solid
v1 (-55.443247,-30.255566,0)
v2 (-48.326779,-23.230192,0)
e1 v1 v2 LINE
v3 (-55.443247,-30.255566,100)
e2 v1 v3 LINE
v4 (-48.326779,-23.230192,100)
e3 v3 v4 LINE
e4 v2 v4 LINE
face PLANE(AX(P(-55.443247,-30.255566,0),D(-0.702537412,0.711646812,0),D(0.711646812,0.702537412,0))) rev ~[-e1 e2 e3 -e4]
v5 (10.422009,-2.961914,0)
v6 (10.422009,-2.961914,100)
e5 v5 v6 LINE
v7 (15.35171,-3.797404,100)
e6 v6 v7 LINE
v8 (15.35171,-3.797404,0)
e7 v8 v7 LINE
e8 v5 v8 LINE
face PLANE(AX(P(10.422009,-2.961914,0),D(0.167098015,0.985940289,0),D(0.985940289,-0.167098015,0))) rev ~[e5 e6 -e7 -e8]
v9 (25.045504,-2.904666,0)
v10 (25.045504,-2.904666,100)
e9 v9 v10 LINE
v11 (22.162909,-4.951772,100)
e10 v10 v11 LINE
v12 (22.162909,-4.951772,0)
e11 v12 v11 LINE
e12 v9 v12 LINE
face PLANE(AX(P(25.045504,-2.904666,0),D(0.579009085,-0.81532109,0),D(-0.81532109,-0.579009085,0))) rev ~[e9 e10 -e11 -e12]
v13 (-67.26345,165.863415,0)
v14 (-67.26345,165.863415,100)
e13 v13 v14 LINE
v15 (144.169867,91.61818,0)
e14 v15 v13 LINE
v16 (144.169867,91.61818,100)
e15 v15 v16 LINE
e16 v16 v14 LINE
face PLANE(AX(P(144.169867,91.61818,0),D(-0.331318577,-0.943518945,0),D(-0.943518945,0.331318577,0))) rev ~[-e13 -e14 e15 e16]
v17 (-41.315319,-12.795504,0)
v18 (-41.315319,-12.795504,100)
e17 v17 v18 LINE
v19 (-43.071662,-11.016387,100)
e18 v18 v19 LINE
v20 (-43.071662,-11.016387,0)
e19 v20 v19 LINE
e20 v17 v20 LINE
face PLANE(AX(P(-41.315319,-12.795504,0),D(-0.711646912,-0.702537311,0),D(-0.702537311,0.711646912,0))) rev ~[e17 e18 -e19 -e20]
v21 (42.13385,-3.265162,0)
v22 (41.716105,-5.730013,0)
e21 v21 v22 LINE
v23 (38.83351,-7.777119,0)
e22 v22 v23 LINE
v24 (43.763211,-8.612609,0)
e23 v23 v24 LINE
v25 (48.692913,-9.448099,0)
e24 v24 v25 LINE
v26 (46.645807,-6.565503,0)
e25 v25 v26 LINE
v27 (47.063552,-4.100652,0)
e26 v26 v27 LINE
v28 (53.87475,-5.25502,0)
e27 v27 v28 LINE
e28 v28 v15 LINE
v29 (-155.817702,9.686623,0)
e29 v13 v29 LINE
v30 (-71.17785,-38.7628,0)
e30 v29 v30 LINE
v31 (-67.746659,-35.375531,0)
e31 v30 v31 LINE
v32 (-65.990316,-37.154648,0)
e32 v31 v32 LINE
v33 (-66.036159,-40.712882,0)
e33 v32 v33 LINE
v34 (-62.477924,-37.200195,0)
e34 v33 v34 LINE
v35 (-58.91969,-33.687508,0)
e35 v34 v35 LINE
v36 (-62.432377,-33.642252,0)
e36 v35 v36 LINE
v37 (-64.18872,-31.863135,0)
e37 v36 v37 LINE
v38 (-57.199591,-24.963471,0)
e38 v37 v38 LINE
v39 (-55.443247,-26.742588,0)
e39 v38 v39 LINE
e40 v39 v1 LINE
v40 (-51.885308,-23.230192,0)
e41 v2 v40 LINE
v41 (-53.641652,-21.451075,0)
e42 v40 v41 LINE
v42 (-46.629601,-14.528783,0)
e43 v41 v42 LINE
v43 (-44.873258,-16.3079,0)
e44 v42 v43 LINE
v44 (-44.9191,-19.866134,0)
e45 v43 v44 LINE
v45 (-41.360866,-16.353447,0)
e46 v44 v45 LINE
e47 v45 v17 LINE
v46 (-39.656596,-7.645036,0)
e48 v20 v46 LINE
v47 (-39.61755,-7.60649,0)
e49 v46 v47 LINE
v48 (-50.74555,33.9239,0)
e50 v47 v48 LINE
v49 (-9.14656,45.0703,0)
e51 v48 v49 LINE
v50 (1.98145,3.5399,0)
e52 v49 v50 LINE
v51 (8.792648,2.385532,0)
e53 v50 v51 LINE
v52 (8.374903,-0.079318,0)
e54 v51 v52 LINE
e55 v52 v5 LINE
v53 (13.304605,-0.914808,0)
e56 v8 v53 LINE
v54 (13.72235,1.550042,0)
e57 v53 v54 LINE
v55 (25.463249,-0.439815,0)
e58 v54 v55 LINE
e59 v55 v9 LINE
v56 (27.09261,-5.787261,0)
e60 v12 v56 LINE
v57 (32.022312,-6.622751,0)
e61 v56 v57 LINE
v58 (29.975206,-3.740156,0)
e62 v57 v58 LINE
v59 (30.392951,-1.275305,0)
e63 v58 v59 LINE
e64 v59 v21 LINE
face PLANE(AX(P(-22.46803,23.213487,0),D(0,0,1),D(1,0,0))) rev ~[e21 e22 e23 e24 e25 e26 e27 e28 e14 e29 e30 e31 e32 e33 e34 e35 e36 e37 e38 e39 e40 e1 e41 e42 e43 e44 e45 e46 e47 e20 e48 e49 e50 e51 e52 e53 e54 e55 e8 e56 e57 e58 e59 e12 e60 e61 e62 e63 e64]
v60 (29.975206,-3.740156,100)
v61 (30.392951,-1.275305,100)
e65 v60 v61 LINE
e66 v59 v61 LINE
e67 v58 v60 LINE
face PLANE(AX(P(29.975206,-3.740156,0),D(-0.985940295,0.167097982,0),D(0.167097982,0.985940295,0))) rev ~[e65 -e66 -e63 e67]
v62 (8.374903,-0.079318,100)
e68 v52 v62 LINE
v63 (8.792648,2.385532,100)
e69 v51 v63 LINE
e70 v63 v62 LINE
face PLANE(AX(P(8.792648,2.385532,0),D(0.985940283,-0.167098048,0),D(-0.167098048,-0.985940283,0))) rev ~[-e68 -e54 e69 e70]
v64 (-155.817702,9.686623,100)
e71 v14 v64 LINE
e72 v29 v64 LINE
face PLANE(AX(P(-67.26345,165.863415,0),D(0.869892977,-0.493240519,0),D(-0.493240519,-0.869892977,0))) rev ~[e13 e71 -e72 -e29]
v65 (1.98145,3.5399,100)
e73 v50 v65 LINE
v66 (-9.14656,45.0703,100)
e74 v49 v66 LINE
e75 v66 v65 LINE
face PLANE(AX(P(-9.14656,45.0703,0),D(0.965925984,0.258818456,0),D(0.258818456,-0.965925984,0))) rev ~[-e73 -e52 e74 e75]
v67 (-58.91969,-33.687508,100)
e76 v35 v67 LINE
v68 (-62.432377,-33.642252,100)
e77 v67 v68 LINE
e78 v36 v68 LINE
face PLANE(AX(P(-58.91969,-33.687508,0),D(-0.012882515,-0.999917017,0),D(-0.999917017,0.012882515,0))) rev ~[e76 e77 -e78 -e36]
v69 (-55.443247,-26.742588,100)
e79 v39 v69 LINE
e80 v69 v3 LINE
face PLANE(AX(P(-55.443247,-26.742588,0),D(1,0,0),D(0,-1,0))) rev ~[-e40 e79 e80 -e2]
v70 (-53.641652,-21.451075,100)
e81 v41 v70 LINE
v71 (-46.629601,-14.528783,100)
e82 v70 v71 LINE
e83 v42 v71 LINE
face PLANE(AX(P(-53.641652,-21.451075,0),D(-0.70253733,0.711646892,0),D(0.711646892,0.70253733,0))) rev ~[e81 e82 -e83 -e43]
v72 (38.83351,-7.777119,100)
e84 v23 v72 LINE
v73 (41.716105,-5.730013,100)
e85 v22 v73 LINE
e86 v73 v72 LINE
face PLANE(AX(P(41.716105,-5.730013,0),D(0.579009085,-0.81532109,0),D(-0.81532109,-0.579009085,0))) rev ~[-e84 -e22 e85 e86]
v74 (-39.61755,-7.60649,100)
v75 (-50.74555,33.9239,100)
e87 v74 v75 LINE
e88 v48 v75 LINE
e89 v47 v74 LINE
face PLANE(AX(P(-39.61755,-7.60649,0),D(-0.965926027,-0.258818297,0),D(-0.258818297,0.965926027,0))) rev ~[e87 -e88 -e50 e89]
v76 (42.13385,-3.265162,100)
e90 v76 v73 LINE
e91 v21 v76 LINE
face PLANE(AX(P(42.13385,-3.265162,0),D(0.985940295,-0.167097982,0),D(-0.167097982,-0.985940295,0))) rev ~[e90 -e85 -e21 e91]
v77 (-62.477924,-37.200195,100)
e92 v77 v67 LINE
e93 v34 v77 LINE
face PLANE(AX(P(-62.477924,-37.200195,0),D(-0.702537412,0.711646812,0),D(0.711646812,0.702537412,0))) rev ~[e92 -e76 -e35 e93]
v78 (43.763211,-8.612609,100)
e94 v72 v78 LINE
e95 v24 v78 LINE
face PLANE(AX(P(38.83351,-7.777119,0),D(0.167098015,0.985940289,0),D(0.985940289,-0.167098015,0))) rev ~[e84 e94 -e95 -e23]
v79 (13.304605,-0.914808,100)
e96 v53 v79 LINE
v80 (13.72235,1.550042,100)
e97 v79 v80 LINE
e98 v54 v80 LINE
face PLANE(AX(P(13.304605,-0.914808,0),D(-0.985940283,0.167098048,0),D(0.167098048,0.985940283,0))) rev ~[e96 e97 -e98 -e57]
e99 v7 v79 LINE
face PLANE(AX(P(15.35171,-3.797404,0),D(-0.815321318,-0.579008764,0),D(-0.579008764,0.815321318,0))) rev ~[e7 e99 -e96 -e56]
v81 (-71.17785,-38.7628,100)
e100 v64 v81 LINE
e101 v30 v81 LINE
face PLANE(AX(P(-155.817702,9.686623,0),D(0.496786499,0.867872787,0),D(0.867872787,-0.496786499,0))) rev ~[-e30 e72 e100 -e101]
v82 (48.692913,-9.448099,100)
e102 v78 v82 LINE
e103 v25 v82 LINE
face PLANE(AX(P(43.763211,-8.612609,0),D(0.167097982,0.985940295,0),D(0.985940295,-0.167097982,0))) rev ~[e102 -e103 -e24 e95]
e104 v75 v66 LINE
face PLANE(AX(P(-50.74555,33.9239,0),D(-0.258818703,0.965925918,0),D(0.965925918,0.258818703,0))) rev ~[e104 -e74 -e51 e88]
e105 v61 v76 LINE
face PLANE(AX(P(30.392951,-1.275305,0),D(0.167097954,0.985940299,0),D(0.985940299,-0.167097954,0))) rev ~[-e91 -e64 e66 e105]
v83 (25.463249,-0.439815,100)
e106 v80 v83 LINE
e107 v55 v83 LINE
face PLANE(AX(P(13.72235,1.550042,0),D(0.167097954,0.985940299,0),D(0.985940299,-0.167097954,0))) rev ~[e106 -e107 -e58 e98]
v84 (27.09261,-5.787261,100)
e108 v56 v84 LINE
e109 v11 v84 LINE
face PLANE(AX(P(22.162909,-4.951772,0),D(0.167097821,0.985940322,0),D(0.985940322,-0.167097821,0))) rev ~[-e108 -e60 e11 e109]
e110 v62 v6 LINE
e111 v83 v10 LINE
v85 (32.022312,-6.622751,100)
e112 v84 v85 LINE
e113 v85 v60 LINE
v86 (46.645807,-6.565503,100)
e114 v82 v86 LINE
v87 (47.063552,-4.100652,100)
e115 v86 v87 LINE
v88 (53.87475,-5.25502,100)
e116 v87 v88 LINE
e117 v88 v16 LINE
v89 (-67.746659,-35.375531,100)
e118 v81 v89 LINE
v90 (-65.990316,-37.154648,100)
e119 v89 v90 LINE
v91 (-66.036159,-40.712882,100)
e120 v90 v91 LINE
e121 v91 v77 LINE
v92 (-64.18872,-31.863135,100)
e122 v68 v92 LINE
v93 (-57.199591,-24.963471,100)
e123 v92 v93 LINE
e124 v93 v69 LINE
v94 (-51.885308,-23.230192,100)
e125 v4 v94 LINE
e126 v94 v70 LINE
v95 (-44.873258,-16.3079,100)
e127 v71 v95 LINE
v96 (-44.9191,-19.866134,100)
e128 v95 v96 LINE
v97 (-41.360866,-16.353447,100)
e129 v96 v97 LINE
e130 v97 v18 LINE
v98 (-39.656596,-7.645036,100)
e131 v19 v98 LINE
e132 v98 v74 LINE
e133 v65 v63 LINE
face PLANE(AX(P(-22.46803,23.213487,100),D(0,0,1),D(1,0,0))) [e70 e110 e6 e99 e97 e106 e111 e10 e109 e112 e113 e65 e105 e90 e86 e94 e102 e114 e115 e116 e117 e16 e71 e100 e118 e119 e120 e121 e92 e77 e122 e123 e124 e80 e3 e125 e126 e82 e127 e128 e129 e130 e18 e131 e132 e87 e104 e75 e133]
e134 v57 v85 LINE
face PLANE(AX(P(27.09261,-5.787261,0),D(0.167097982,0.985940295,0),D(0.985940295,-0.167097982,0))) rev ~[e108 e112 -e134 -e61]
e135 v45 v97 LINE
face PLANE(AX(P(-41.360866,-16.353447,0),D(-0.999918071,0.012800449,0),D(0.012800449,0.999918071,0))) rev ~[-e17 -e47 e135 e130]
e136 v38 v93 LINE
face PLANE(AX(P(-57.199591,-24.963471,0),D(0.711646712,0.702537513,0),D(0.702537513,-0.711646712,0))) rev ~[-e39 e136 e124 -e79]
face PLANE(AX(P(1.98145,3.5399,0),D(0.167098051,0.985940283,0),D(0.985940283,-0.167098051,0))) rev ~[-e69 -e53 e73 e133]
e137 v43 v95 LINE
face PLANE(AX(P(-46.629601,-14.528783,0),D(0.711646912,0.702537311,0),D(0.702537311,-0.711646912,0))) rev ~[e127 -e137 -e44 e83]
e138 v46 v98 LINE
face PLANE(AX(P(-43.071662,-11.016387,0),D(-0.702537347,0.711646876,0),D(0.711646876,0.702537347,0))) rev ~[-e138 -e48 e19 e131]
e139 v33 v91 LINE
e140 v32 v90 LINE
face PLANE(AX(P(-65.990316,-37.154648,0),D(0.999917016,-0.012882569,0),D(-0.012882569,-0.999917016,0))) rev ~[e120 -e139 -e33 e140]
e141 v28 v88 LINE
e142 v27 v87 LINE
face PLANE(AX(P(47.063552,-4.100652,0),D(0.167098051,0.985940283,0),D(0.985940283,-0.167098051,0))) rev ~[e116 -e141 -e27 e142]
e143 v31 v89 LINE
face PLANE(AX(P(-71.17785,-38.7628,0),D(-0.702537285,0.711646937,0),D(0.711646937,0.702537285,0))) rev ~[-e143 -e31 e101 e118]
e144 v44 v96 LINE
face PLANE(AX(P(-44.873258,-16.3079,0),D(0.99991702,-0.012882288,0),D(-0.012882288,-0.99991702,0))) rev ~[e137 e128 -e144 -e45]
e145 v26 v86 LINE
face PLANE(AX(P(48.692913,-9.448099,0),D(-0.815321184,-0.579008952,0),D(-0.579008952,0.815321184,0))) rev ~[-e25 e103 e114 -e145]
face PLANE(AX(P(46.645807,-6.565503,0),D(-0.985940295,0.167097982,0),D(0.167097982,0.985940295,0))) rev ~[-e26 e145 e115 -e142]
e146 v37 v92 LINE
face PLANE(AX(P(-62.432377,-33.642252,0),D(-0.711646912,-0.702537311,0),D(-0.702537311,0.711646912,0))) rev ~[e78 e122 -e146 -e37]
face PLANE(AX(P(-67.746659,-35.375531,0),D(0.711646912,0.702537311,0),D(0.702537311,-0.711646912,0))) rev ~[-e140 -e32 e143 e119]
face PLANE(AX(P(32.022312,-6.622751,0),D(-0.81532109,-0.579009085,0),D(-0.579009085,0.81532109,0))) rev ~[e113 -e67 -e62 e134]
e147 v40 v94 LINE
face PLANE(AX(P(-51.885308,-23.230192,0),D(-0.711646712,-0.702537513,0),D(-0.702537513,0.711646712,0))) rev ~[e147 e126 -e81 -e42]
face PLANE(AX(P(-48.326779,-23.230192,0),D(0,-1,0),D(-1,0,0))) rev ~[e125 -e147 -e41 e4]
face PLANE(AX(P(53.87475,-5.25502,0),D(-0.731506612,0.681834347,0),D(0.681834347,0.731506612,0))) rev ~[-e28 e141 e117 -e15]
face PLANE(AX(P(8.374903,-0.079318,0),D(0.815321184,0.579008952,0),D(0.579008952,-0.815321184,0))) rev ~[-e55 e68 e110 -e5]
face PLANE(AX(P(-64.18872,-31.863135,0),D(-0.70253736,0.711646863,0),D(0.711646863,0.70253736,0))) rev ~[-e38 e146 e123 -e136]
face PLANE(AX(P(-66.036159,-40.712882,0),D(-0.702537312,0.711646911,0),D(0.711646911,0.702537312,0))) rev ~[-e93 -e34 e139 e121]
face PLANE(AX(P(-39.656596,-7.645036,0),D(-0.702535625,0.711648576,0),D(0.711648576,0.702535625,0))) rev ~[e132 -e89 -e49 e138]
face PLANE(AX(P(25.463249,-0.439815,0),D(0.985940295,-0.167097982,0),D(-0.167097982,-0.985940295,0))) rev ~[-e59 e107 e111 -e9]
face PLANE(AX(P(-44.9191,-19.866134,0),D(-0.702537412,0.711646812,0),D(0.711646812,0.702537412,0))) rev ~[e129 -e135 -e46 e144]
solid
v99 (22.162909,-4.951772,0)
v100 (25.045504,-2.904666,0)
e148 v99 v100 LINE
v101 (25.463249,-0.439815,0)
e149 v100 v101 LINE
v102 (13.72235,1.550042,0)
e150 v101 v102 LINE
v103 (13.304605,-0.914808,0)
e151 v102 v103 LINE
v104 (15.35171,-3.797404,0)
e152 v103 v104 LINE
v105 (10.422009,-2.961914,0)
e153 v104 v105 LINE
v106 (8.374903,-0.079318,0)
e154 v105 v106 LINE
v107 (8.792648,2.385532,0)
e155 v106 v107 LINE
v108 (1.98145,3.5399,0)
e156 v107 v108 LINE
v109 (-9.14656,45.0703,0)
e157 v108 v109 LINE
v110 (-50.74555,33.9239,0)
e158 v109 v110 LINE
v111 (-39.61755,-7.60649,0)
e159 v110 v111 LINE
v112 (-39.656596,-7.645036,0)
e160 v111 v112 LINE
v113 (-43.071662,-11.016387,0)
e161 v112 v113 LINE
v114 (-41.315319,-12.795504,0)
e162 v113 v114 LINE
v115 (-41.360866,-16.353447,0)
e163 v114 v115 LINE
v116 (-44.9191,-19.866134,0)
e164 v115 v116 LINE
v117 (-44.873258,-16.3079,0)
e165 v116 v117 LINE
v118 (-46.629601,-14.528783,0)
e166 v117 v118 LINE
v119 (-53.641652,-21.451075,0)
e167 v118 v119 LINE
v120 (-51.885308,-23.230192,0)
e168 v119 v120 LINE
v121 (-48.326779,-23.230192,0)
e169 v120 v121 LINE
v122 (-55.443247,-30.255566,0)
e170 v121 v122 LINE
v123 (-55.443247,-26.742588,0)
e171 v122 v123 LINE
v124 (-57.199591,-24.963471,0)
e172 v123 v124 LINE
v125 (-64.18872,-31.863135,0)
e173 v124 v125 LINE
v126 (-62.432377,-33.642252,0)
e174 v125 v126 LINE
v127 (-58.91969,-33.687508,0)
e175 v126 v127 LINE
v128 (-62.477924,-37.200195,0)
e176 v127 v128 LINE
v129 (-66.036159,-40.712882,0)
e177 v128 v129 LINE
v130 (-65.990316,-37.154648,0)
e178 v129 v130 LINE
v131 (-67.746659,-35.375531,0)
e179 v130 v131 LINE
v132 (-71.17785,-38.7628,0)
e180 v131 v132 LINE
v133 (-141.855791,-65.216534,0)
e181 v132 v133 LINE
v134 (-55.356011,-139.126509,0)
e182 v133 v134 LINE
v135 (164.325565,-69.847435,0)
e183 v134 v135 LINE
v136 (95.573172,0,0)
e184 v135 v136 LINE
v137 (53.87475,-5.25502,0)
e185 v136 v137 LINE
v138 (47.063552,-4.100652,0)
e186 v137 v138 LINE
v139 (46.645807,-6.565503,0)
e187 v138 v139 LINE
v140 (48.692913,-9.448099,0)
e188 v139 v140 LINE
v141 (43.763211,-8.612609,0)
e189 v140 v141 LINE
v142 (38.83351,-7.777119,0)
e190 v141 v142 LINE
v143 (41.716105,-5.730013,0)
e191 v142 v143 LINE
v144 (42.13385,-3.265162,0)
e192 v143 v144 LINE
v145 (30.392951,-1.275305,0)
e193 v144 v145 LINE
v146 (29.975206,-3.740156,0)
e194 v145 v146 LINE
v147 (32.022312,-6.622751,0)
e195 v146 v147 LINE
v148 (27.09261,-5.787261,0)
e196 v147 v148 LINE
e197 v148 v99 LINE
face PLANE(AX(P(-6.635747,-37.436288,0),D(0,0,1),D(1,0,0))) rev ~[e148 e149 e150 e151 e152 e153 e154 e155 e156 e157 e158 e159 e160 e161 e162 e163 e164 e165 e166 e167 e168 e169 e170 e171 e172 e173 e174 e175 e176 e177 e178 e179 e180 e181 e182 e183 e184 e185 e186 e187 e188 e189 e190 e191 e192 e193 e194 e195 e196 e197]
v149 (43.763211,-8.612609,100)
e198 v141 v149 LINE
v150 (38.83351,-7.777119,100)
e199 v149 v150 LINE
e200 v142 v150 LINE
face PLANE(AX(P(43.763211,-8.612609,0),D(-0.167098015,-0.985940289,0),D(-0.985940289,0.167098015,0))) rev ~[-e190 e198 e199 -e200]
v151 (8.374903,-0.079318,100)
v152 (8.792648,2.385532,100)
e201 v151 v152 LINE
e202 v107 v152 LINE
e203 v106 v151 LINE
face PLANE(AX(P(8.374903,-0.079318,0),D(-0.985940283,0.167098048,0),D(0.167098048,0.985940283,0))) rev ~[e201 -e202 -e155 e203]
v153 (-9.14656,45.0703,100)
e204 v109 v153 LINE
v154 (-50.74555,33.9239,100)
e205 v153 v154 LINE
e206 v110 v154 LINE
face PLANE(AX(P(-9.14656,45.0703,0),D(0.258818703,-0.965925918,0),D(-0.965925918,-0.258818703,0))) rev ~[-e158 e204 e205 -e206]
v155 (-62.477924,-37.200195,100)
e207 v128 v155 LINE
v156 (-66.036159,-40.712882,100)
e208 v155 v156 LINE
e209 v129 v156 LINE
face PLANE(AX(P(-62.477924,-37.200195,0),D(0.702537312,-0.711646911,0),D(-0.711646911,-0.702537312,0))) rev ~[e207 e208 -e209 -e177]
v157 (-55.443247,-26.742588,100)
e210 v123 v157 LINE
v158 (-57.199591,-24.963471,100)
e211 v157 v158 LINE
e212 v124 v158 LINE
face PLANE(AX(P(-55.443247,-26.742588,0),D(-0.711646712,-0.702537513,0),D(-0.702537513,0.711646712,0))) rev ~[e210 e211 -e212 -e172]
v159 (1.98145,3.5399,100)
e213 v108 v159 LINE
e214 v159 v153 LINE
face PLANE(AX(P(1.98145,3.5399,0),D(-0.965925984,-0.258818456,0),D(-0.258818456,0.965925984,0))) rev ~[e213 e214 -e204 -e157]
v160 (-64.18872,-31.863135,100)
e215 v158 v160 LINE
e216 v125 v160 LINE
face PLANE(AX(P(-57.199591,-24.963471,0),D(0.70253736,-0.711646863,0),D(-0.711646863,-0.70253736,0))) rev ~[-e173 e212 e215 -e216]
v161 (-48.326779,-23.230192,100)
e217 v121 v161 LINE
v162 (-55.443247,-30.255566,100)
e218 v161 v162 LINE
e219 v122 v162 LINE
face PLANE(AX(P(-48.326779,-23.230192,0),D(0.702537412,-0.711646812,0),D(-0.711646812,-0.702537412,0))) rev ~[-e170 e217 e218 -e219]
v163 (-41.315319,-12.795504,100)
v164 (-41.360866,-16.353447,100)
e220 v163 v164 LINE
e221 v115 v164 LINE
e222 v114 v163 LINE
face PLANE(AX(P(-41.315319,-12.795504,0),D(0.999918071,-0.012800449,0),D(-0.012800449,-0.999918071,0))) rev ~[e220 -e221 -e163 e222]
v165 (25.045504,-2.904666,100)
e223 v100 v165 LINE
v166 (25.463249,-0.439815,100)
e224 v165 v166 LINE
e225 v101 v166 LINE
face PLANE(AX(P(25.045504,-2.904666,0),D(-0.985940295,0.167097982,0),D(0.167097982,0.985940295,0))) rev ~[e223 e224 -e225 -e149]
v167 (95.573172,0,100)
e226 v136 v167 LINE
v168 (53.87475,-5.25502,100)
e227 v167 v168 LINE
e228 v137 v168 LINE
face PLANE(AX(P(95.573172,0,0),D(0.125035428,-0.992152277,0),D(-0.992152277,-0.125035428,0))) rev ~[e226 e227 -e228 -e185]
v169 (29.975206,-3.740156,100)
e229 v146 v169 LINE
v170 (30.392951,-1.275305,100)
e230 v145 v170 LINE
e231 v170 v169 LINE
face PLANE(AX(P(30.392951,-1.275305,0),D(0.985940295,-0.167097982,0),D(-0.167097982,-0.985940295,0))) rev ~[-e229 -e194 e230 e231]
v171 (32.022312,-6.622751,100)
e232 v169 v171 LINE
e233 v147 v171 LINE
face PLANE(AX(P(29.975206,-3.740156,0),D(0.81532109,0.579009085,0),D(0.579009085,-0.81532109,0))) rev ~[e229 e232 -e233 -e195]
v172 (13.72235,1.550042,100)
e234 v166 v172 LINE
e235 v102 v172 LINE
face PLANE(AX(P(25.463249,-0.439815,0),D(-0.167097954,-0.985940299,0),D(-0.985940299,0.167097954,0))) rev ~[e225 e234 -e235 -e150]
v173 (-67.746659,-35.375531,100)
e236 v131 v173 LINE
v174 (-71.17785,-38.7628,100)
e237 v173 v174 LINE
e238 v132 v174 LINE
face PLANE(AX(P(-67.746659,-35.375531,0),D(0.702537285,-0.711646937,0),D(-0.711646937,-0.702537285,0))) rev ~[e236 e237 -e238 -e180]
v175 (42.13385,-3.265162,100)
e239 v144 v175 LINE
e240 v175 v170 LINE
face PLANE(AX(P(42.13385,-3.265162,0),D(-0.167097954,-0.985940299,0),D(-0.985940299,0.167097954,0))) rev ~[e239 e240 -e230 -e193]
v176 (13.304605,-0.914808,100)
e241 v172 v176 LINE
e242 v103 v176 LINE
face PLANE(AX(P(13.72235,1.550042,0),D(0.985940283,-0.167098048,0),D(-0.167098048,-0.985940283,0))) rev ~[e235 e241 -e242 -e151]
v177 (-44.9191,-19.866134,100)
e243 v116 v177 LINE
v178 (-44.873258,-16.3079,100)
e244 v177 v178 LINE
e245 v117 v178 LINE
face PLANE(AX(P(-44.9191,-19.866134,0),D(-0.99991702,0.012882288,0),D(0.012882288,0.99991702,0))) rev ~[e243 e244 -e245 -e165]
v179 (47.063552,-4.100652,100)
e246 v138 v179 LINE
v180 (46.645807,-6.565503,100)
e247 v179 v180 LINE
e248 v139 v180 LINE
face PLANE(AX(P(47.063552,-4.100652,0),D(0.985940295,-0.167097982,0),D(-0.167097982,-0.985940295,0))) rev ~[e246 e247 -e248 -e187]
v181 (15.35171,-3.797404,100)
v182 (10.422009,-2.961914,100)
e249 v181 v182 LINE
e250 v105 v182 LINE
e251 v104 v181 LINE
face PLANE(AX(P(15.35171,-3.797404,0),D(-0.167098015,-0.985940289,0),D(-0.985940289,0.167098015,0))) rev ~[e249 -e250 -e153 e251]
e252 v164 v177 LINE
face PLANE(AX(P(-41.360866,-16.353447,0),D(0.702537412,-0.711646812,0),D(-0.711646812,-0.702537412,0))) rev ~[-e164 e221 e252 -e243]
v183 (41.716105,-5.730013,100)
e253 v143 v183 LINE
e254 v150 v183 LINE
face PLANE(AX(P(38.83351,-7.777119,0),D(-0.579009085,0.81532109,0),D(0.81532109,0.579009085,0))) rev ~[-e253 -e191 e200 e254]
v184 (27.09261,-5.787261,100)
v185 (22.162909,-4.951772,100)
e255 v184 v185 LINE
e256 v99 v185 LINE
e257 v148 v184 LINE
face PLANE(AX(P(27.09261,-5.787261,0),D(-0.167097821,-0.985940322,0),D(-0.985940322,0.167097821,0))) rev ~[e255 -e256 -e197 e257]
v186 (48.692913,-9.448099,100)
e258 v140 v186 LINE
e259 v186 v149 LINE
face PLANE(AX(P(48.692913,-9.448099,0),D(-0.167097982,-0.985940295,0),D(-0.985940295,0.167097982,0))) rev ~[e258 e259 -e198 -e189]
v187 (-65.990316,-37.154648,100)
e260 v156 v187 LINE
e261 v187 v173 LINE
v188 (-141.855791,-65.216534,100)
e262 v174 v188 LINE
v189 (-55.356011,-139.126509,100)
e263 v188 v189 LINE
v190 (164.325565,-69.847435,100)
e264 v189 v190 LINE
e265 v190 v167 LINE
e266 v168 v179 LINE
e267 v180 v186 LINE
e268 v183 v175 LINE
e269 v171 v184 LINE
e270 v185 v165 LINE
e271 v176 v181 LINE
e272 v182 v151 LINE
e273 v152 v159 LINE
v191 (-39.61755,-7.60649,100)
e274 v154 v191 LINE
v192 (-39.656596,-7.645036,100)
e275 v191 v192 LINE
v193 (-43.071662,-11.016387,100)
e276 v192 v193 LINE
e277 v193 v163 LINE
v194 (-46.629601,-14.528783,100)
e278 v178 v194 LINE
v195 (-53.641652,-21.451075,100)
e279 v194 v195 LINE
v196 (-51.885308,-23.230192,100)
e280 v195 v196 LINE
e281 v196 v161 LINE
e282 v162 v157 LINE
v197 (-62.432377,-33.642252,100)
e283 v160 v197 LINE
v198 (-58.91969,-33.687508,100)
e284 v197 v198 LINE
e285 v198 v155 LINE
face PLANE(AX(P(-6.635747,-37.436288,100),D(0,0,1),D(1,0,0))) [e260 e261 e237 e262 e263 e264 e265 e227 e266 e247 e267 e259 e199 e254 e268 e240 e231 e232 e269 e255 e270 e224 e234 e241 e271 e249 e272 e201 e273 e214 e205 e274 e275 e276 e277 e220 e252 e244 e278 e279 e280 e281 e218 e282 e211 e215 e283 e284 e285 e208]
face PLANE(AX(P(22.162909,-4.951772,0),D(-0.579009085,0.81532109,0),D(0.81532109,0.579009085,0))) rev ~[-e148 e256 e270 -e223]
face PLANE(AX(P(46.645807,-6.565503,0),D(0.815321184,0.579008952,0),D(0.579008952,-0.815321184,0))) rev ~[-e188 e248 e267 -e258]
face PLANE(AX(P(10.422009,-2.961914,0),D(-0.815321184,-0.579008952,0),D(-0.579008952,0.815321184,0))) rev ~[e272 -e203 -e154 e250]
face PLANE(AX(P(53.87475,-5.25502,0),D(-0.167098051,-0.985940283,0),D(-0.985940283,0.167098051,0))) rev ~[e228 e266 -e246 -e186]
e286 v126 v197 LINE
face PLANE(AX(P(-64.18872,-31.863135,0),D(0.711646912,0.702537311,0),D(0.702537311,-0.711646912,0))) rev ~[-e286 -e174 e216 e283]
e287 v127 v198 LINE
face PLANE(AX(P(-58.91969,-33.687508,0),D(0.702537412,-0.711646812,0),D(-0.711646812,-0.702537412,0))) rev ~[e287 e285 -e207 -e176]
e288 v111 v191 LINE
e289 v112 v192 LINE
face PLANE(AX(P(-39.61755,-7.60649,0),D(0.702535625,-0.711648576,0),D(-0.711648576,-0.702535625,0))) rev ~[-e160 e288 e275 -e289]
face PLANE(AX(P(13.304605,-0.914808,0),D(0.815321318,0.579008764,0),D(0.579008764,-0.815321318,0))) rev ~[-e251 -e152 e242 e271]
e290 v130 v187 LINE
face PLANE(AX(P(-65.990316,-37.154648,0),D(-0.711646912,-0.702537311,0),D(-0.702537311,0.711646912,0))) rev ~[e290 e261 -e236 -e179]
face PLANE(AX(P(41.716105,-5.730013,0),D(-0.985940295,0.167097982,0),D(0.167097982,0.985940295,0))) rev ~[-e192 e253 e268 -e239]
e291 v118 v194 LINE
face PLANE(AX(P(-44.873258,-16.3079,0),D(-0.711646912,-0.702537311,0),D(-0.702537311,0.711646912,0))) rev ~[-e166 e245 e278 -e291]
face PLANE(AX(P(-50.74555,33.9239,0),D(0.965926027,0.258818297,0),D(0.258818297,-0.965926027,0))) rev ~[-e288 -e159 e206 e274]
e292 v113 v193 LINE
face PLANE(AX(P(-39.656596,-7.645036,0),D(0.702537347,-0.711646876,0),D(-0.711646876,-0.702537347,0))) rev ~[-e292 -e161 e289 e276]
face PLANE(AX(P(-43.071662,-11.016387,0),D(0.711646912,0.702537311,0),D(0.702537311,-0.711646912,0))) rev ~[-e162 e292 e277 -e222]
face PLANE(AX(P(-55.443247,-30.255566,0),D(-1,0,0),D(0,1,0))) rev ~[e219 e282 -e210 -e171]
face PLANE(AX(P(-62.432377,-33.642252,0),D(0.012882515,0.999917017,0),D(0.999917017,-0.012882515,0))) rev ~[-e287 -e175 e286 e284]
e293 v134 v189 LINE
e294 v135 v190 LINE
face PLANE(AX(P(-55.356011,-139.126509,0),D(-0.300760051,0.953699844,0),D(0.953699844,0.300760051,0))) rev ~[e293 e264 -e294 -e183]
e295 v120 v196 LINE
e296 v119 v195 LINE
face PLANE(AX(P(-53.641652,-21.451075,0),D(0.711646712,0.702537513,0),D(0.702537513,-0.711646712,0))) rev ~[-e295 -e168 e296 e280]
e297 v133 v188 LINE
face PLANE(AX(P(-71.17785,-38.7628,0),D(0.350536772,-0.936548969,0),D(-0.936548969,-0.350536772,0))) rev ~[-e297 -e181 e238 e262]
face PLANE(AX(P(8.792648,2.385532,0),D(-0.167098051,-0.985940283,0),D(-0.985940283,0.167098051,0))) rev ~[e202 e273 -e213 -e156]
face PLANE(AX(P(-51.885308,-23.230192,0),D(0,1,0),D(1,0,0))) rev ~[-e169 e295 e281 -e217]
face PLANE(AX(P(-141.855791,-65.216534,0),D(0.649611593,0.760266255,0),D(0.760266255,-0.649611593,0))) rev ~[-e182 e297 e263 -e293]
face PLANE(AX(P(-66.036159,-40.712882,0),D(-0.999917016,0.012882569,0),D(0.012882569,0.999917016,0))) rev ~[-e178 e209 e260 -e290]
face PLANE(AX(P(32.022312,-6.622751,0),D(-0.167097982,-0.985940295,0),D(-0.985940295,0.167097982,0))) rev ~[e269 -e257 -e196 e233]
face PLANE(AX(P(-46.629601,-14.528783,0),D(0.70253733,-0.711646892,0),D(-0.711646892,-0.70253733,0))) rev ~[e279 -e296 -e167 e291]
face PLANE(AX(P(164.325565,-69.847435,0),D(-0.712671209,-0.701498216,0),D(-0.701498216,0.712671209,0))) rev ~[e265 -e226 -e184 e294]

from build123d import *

# Parameters (mm, degrees)
F1_DEPTH = 100
F2_DEPTH = 100


with BuildPart() as f1:
    # F0 (on Top) → F1 (new body)
    with BuildSketch(Plane.XY):
        Polygon((47.063552, -4.100652), (53.87475, -5.25502), (54.52035, -3.4165), (55.49985, -0.94579), (57.70885, 4.3215), (58.83355, 7.1273), (59.89635, 10.0413), (60.84015, 13.0489), (61.60975, 16.1281), (62.15425, 19.2503), (62.42905, 22.3813), (62.39715, 25.483), (62.03065, 28.5147), (61.64635, 30.0767), (56.95075, 31.9738), (54.45145, 32.505), (54.47725, 32.6261), (53.28815, 33.6967), (53.62085, 35.2618), (55.14255, 35.7562), (55.32655, 35.5905), (57.88995, 35.0457), (60.28315, 34.0787), (60.23445, 34.2037), (58.80165, 36.7834), (57.02775, 39.1417), (54.93675, 41.2523), (52.56115, 43.0965), (49.94065, 44.6643), (47.12005, 45.9551), (44.14795, 46.9776), (41.07425, 47.75), (37.94825, 48.2994), (34.81675, 48.6605), (31.72235, 48.8748), (28.70165, 48.9886), (22.99125, 49.1129), (20.33575, 49.2231), (17.82175, 49.4276), (15.44465, 49.7675), (13.19215, 50.2766), (11.04515, 50.9802), (8.97875, 51.894), (6.96425, 53.0228), (4.97025, 54.3608), (2.96505, 55.8911), (0.91795, 57.5861), (-3.4089, 61.3147), (-5.72986, 63.2514), (-8.17284, 65.1627), (-10.74162, 66.9897), (-13.40326, 68.655), (-16.20161, 75.2043), (-14.03963, 79.8407), (-19.57281, 82.4209), (-20.20982, 83.7705), (-24.42685, 91.3774), (-29.06795, 98.0634), (-31.05355, 100.1334), (-37.50015, 98.4054), (-37.48715, 98.3574), (-43.86225, 96.6494), (-43.87525, 96.6974), (-50.32175, 94.9704), (-51.00685, 92.1854), (-51.68285, 84.0741), (-51.53145, 75.3779), (-51.40835, 73.8905), (-54.91005, 68.8895), (-50.40475, 65.7348), (-48.90245, 67.8802), (-42.34855, 43.4208), (-51.04195, 41.0914), (-53.64105, 50.7915), (-53.81195, 50.3678), (-54.85355, 47.5301), (-56.73645, 42.1377), (-57.66175, 39.6462), (-58.63325, 37.3183), (-59.69105, 35.1626), (-60.87125, 33.1777), (-62.20395, 31.3532), (-63.71145, 29.6703), (-65.40765, 28.1032), (-67.29635, 26.6203), (-69.37125, 25.1861), (-71.61595, 23.763), (-76.49915, 20.8001), (-79.05825, 19.1913), (-81.63085, 17.4585), (-84.16225, 15.58), (-86.59475, 13.5412), (-88.87045, 11.3354), (-90.93315, 8.9639), (-92.73045, 6.4358), (-94.21595, 3.7677), (-94.82315, 2.2781), (-92.13945, -2.01668), (-90.42975, -3.9155), (-90.52175, -3.99832), (-90.18905, -5.56336), (-91.37805, -6.63397), (-92.89975, -6.13954), (-92.95125, -5.89739), (-94.70485, -3.94984), (-96.07265, -1.7609), (-96.10675, -1.89056), (-96.46385, -4.81984), (-96.41485, -7.7704), (-95.96375, -10.70692), (-95.12595, -13.59526), (-93.92745, -16.40399), (-92.40425, -19.10613), (-90.60075, -21.6803), (-88.56805, -24.1119), (-86.36195, -26.3938), (-84.04085, -28.5265), (-81.66345, -30.5187), (-79.28645, -32.3863), (-74.73975, -35.8434), (-72.65615, -37.4933), (-71.17785, -38.7628), (-67.746659, -35.375531), (-65.990316, -37.154648), (-66.036159, -40.712882), (-62.477924, -37.200195), (-58.91969, -33.687508), (-62.432377, -33.642252), (-64.18872, -31.863135), (-57.199591, -24.963471), (-55.443247, -26.742588), (-55.443247, -30.255566), (-51.885013, -26.742879), (-48.326779, -23.230192), (-51.885308, -23.230192), (-53.641652, -21.451075), (-46.629601, -14.528783), (-44.873258, -16.3079), (-44.9191, -19.866134), (-41.360866, -16.353447), (-41.315319, -12.795504), (-43.071662, -11.016387), (-39.656596, -7.645036), (-39.61755, -7.60649), (-50.74555, 33.9239), (-9.14656, 45.0703), (1.98145, 3.5399), (8.792648, 2.385532), (8.374903, -0.079318), (10.422009, -2.961914), (15.35171, -3.797404), (13.304605, -0.914808), (13.72235, 1.550042), (25.463249, -0.439815), (25.045504, -2.904666), (22.162909, -4.951772), (27.09261, -5.787261), (32.022312, -6.622751), (29.975206, -3.740156), (30.392951, -1.275305), (42.13385, -3.265162), (41.716105, -5.730013), (38.83351, -7.777119), (43.763211, -8.612609), (48.692913, -9.448099), (46.645807, -6.565503), align=None)
        Polygon((-71.09905, -29.6513), (-71.20325, -29.5837), (-73.46545, -29.4651), (-78.15285, -28.7227), (-82.73695, -27.4944), (-84.95225, -26.644), (-83.80545, -23.6566), (-81.74675, -24.4468), (-77.48665, -25.5883), (-73.13045, -26.2783), (-70.92835, -26.3937), (-70.93155, -26.4557), (-69.58965, -27.3272), (-69.67345, -28.925), align=None, mode=Mode.SUBTRACT)
        Polygon((-70.74295, -22.8573), (-74.18435, -22.3123), (-77.43725, -21.0636), (-80.35935, -19.16594), (-82.82315, -16.70218), (-84.72085, -13.78001), (-85.96945, -10.52715), (-86.51455, -7.08579), (-86.33215, -3.60628), (-85.43035, -0.24072), (-83.84855, 2.8638), (-81.65585, 5.5716), (-78.94805, 7.7643), (-75.84355, 9.3462), (-72.47795, 10.248), (-68.99845, 10.4303), (-65.55705, 9.8853), (-62.30415, 8.6366), (-59.38205, 6.7389), (-56.91825, 4.2752), (-55.02055, 1.353), (-53.77195, -1.89987), (-53.22685, -5.34126), (-53.40925, -8.820756), (-54.31105, -12.1863), (-55.89285, -15.29082), (-58.08555, -17.99861), (-60.79335, -20.1914), (-63.89795, -21.7732), (-67.26345, -22.675), align=None, mode=Mode.SUBTRACT)
        Polygon((47.65305, 2.5126), (46.78155, 3.8544), (47.50795, 5.28), (49.10575, 5.3638), (49.97715, 4.0219), (49.25085, 2.5963), align=None, mode=Mode.SUBTRACT)
        Polygon((-68.80985, 14.0287), (-70.15175, 14.9001), (-70.06795, 16.4979), (-68.64235, 17.2243), (-67.30055, 16.3529), (-67.38425, 14.7551), align=None, mode=Mode.SUBTRACT)
        Polygon((-38.42705, 76.3648), (-41.06855, 86.2228), (-40.95165, 86.2541), (-40.99295, 86.4082), (-40.82145, 86.6005), (-40.83585, 86.6542), (-40.60045, 86.9603), (-40.34885, 87.0277), (-40.37745, 87.1348), (-40.04765, 87.5049), (-39.58545, 87.769), (-39.29825, 86.6972), (-36.45885, 87.458), (-36.74675, 88.5325), (-36.73955, 88.5344), (-36.57845, 88.5497), (-35.93765, 88.4719), (-35.69425, 88.2749), (-35.46745, 88.3356), (-35.06415, 88.1691), (-35.05765, 88.145), (-34.76845, 87.9109), (-34.69345, 87.931), (-32.05195, 78.073), align=None, mode=Mode.SUBTRACT)
        Polygon((35.59585, 5.6361), (32.15445, 6.1811), (28.90165, 7.4298), (25.97945, 9.3275), (23.51575, 11.7912), (21.61805, 14.7134), (20.36935, 17.9662), (19.82435, 21.4076), (20.00665, 24.8871), (20.90845, 28.2527), (22.49025, 31.3572), (24.68305, 34.065), (27.39085, 36.2577), (30.49535, 37.8396), (33.86085, 38.7414), (37.34045, 38.9237), (40.78175, 38.3787), (44.03465, 37.13), (46.95685, 35.2323), (49.42055, 32.7686), (51.31825, 29.8464), (52.56695, 26.5935), (53.11195, 23.1522), (52.92965, 19.6727), (52.02785, 16.3071), (50.44595, 13.2026), (48.25325, 10.4948), (45.54545, 8.3021), (42.44095, 6.7202), (39.07535, 5.8184), align=None, mode=Mode.SUBTRACT)
        Polygon((23.83045, 39.196), (22.95905, 40.5379), (23.68545, 41.9635), (23.80955, 41.97), (25.70935, 43.2038), (29.93795, 45.3583), (34.36855, 47.0591), (36.66065, 47.6732), (37.48885, 44.5823), (35.35875, 44.0115), (31.24125, 42.431), (27.31155, 40.4287), (25.46215, 39.2276), (25.42835, 39.2798), align=None, mode=Mode.SUBTRACT)
        Polygon((-40.95165, 86.2541), (-41.06855, 86.2228), (-38.42705, 76.3648), (-32.05195, 78.073), (-34.69345, 87.931), (-34.76845, 87.9109), (-35.05765, 88.145), (-35.06415, 88.1691), (-35.46745, 88.3356), (-35.69425, 88.2749), (-35.93765, 88.4719), (-36.57845, 88.5497), (-36.73955, 88.5344), (-36.74675, 88.5325), (-36.45885, 87.458), (-39.29825, 86.6972), (-39.58545, 87.769), (-40.04765, 87.5049), (-40.37745, 87.1348), (-40.34885, 87.0277), (-40.60045, 86.9603), (-40.83585, 86.6542), (-40.82145, 86.6005), (-40.99295, 86.4082), align=None)
        Polygon((28.90165, 7.4298), (32.15445, 6.1811), (35.59585, 5.6361), (39.07535, 5.8184), (42.44095, 6.7202), (45.54545, 8.3021), (48.25325, 10.4948), (50.44595, 13.2026), (52.02785, 16.3071), (52.92965, 19.6727), (53.11195, 23.1522), (52.56695, 26.5935), (51.31825, 29.8464), (49.42055, 32.7686), (46.95685, 35.2323), (44.03465, 37.13), (40.78175, 38.3787), (37.34045, 38.9237), (33.86085, 38.7414), (30.49535, 37.8396), (27.39085, 36.2577), (24.68305, 34.065), (22.49025, 31.3572), (20.90845, 28.2527), (20.00665, 24.8871), (19.82435, 21.4076), (20.36935, 17.9662), (21.61805, 14.7134), (23.51575, 11.7912), (25.97945, 9.3275), align=None)
        Polygon((-77.43725, -21.0636), (-74.18435, -22.3123), (-70.74295, -22.8573), (-67.26345, -22.675), (-63.89795, -21.7732), (-60.79335, -20.1914), (-58.08555, -17.99861), (-55.89285, -15.29082), (-54.31105, -12.1863), (-53.40925, -8.820756), (-53.22685, -5.34126), (-53.77195, -1.89987), (-55.02055, 1.353), (-56.91825, 4.2752), (-59.38205, 6.7389), (-62.30415, 8.6366), (-65.55705, 9.8853), (-68.99845, 10.4303), (-72.47795, 10.248), (-75.84355, 9.3462), (-78.94805, 7.7643), (-81.65585, 5.5716), (-83.84855, 2.8638), (-85.43035, -0.24072), (-86.33215, -3.60628), (-86.51455, -7.08579), (-85.96945, -10.52715), (-84.72085, -13.78001), (-82.82315, -16.70218), (-80.35935, -19.16594), align=None)
        Polygon((-70.06795, 16.4979), (-70.15175, 14.9001), (-68.80985, 14.0287), (-67.38425, 14.7551), (-67.30055, 16.3529), (-68.64235, 17.2243), align=None)
        Polygon((47.50795, 5.28), (46.78155, 3.8544), (47.65305, 2.5126), (49.25085, 2.5963), (49.97715, 4.0219), (49.10575, 5.3638), align=None)
        Polygon((23.68545, 41.9635), (22.95905, 40.5379), (23.83045, 39.196), (25.42835, 39.2798), (25.46215, 39.2276), (27.31155, 40.4287), (31.24125, 42.431), (35.35875, 44.0115), (37.48885, 44.5823), (36.66065, 47.6732), (34.36855, 47.0591), (29.93795, 45.3583), (25.70935, 43.2038), (23.80955, 41.97), align=None)
        Polygon((-73.46545, -29.4651), (-71.20325, -29.5837), (-71.09905, -29.6513), (-69.67345, -28.925), (-69.58965, -27.3272), (-70.93155, -26.4557), (-70.92835, -26.3937), (-73.13045, -26.2783), (-77.48665, -25.5883), (-81.74675, -24.4468), (-83.80545, -23.6566), (-84.95225, -26.644), (-82.73695, -27.4944), (-78.15285, -28.7227), align=None)
        Polygon((54.52035, -3.4165), (53.87475, -5.25502), (144.169867, 91.61818), (-67.26345, 165.863415), (-155.817702, 9.686623), (-71.17785, -38.7628), (-72.65615, -37.4933), (-74.73975, -35.8434), (-79.28645, -32.3863), (-81.66345, -30.5187), (-84.04085, -28.5265), (-86.36195, -26.3938), (-88.56805, -24.1119), (-90.60075, -21.6803), (-92.40425, -19.10613), (-93.92745, -16.40399), (-95.12595, -13.59526), (-95.96375, -10.70692), (-96.41485, -7.7704), (-96.46385, -4.81984), (-96.10675, -1.89056), (-96.07265, -1.7609), (-94.70485, -3.94984), (-92.95125, -5.89739), (-92.89975, -6.13954), (-91.37805, -6.63397), (-90.18905, -5.56336), (-90.52175, -3.99832), (-90.42975, -3.9155), (-92.13945, -2.01668), (-94.82315, 2.2781), (-94.21595, 3.7677), (-92.73045, 6.4358), (-90.93315, 8.9639), (-88.87045, 11.3354), (-86.59475, 13.5412), (-84.16225, 15.58), (-81.63085, 17.4585), (-79.05825, 19.1913), (-76.49915, 20.8001), (-71.61595, 23.763), (-69.37125, 25.1861), (-67.29635, 26.6203), (-65.40765, 28.1032), (-63.71145, 29.6703), (-62.20395, 31.3532), (-60.87125, 33.1777), (-59.69105, 35.1626), (-58.63325, 37.3183), (-57.66175, 39.6462), (-56.73645, 42.1377), (-54.85355, 47.5301), (-53.81195, 50.3678), (-53.64105, 50.7915), (-51.04195, 41.0914), (-42.34855, 43.4208), (-48.90245, 67.8802), (-50.40475, 65.7348), (-54.91005, 68.8895), (-51.40835, 73.8905), (-51.53145, 75.3779), (-51.68285, 84.0741), (-51.00685, 92.1854), (-50.32175, 94.9704), (-43.87525, 96.6974), (-43.86225, 96.6494), (-37.48715, 98.3574), (-37.50015, 98.4054), (-31.05355, 100.1334), (-29.06795, 98.0634), (-24.42685, 91.3774), (-20.20982, 83.7705), (-19.57281, 82.4209), (-14.03963, 79.8407), (-16.20161, 75.2043), (-13.40326, 68.655), (-10.74162, 66.9897), (-8.17284, 65.1627), (-5.72986, 63.2514), (-3.4089, 61.3147), (0.91795, 57.5861), (2.96505, 55.8911), (4.97025, 54.3608), (6.96425, 53.0228), (8.97875, 51.894), (11.04515, 50.9802), (13.19215, 50.2766), (15.44465, 49.7675), (17.82175, 49.4276), (20.33575, 49.2231), (22.99125, 49.1129), (28.70165, 48.9886), (31.72235, 48.8748), (34.81675, 48.6605), (37.94825, 48.2994), (41.07425, 47.75), (44.14795, 46.9776), (47.12005, 45.9551), (49.94065, 44.6643), (52.56115, 43.0965), (54.93675, 41.2523), (57.02775, 39.1417), (58.80165, 36.7834), (60.23445, 34.2037), (60.28315, 34.0787), (57.88995, 35.0457), (55.32655, 35.5905), (55.14255, 35.7562), (53.62085, 35.2618), (53.28815, 33.6967), (54.47725, 32.6261), (54.45145, 32.505), (56.95075, 31.9738), (61.64635, 30.0767), (62.03065, 28.5147), (62.39715, 25.483), (62.42905, 22.3813), (62.15425, 19.2503), (61.60975, 16.1281), (60.84015, 13.0489), (59.89635, 10.0413), (58.83355, 7.1273), (57.70885, 4.3215), (55.49985, -0.94579), align=None)
    extrude(amount=F1_DEPTH)


with BuildPart() as f2:
    # F0 (on Top) → F2 (new body)
    with BuildSketch(Plane.XY):
        Polygon((11.90965, -100.1334), (13.22625, -95.2199), (4.45365, -92.8693), (14.84455, -54.0901), (52.07465, -64.0659), (52.62445, -63.4753), (64.97425, -66.7844), (69.57335, -49.6203), (71.06085, -48.5787), (72.54825, -48.7018), (81.24445, -48.8532), (89.35575, -48.1771), (92.14075, -47.4921), (93.86775, -41.0456), (93.81975, -41.0326), (95.52775, -34.6575), (95.57575, -34.6705), (97.30375, -28.2239), (95.23375, -26.2383), (88.54775, -21.5972), (80.94085, -17.38019), (79.59125, -16.74316), (77.01105, -11.20998), (72.37465, -13.37196), (65.89685, -10.60355), (59.65165, -7.99066), (54.72455, -5.74194), (53.87475, -5.25502), (47.063552, -4.100652), (46.645807, -6.565503), (48.692913, -9.448099), (43.763211, -8.612609), (38.83351, -7.777119), (41.716105, -5.730013), (42.13385, -3.265162), (30.392951, -1.275305), (29.975206, -3.740156), (32.022312, -6.622751), (27.09261, -5.787261), (22.162909, -4.951772), (25.045504, -2.904666), (25.463249, -0.439815), (13.72235, 1.550042), (13.304605, -0.914808), (15.35171, -3.797404), (10.422009, -2.961914), (8.374903, -0.079318), (8.792648, 2.385532), (1.98145, 3.5399), (-9.14656, 45.0703), (-50.74555, 33.9239), (-39.61755, -7.60649), (-39.656596, -7.645036), (-43.071662, -11.016387), (-41.315319, -12.795504), (-41.360866, -16.353447), (-44.9191, -19.866134), (-44.873258, -16.3079), (-46.629601, -14.528783), (-53.641652, -21.451075), (-51.885308, -23.230192), (-48.326779, -23.230192), (-51.885013, -26.742879), (-55.443247, -30.255566), (-55.443247, -26.742588), (-57.199591, -24.963471), (-64.18872, -31.863135), (-62.432377, -33.642252), (-58.91969, -33.687508), (-62.477924, -37.200195), (-66.036159, -40.712882), (-65.990316, -37.154648), (-67.746659, -35.375531), (-71.17785, -38.7628), (-71.67025, -39.6093), (-74.81295, -44.0203), (-78.91505, -49.4058), (-83.14065, -55.0422), (-88.23695, -55.488), (-87.70485, -61.57), (-88.55515, -62.7965), (-93.03435, -70.2519), (-96.50455, -77.6145), (-97.30375, -80.3687), (-92.58445, -85.0879), (-92.54915, -85.0526), (-87.88225, -89.7195), (-87.91755, -89.7548), (-83.19835, -94.4741), (-80.44415, -93.6749), (-73.08155, -90.2047), (-65.62615, -85.7255), (-64.39965, -84.8752), (-58.31765, -85.4073), (-57.87185, -80.311), (-54.33325, -77.6581), (-53.75695, -78.6177), (-51.90805, -81.1082), (-49.82955, -83.3455), (-48.60055, -84.3832), (-43.68665, -83.1581), (-41.35245, -82.1188), (-41.30205, -82.2319), (-39.71085, -82.3991), (-39.06005, -83.8608), (-40.00055, -85.1552), (-40.24675, -85.1294), (-42.64085, -86.1953), (-45.14535, -86.8197), (-45.03255, -86.8922), (-42.35695, -88.137), (-39.53565, -89.0023), (-36.60345, -89.4807), (-33.59765, -89.5764), (-30.55595, -89.3045), (-27.51545, -88.6909), (-24.50995, -87.7711), (-21.56923, -86.5893), (-18.71733, -85.1963), (-15.97166, -83.6479), (-13.34227, -82.0024), (-10.8316, -80.319), (-6.13873, -77.063), (-3.92564, -75.5913), (-1.88705, -74.3495), (-7.40884, -94.957), align=None)
        Polygon((-80.44795, -82.114), (-80.70025, -82.0617), (-80.73955, -82.101), (-81.12235, -82.0502), (-81.30655, -81.866), (-81.38495, -81.9444), (-81.87035, -81.8438), (-82.33015, -81.5755), (-81.54555, -80.7909), (-83.62415, -78.7123), (-84.41065, -79.4989), (-84.41605, -79.4935), (-84.50975, -79.3617), (-84.76285, -78.7679), (-84.71395, -78.4586), (-84.87975, -78.2927), (-84.93725, -77.8599), (-84.91965, -77.8423), (-84.86155, -77.4748), (-84.91645, -77.4199), (-77.69985, -70.2033), (-73.03295, -74.8702), (-80.24955, -82.0868), (-80.33515, -82.0013), align=None, mode=Mode.SUBTRACT)
        Polygon((-33.68605, -79.92), (-37.12745, -79.3749), (-40.38025, -78.1263), (-43.30245, -76.2286), (-45.76625, -73.7648), (-47.66385, -70.8427), (-48.91255, -67.5898), (-49.45765, -64.1484), (-49.27525, -60.6689), (-48.37345, -57.3034), (-46.79165, -54.1988), (-44.59895, -51.491), (-41.89115, -49.2983), (-38.78655, -47.7165), (-35.42105, -46.8147), (-31.94155, -46.6323), (-28.50015, -47.1774), (-25.24725, -48.4261), (-22.32515, -50.3237), (-19.86136, -52.7875), (-17.96367, -55.7097), (-16.71503, -58.9625), (-16.16995, -62.4039), (-16.35231, -65.8834), (-17.25412, -69.249), (-18.83594, -72.3535), (-21.02867, -75.0613), (-23.73645, -77.254), (-26.84095, -78.8358), (-30.20655, -79.7376), align=None, mode=Mode.SUBTRACT)
        Polygon((-18.04369, -83.9329), (-20.53055, -81.9191), (-19.14276, -80.2053), (-16.74068, -76.5065), (-14.73839, -72.5767), (-13.94812, -70.518), (-13.89011, -70.5403), (-12.646667, -69.5334), (-11.152954, -70.1068), (-10.90266, -71.6871), (-10.99925, -71.7653), (-11.81105, -73.8801), (-13.96559, -78.1087), (-16.55037, -82.0888), align=None, mode=Mode.SUBTRACT)
        Polygon((-52.98085, -57.019), (-54.47465, -56.4456), (-54.72495, -54.8653), (-53.48145, -53.8584), (-51.98775, -54.4317), (-51.73745, -56.012), align=None, mode=Mode.SUBTRACT)
        Polygon((-29.46675, -39.4282), (-37.23135, -10.45041), (-28.53805, -8.12105), (-20.77344, -37.0988), align=None, mode=Mode.SUBTRACT)
        Polygon((0.40815, -31.4232), (-7.35638, -2.44544), (1.33695, -0.11607), (9.10155, -29.0938), align=None, mode=Mode.SUBTRACT)
        Polygon((-11.476974, -11.46422), (-13.22224, -11.23445), (-14.29387, -9.837876), (-14.0641, -8.09261), (-12.667526, -7.02098), (-10.92226, -7.25075), (-9.85063, -8.647324), (-10.0804, -10.39259), align=None, mode=Mode.SUBTRACT)
        Polygon((62.18005, -45.7029), (59.62655, -53.3009), (25.72255, -44.2163), (24.94615, -47.1141), (16.25275, -44.7847), (25.05265, -11.94324), (63.68965, -22.296), (62.66675, -42.7274), align=None, mode=Mode.SUBTRACT)
        Polygon((83.39315, -38.2389), (73.53515, -35.5974), (75.24335, -29.2223), (85.10135, -31.8638), (85.07005, -31.9807), (85.22405, -32.022), (85.30495, -32.2666), (85.35865, -32.281), (85.50595, -32.6378), (85.43855, -32.8895), (85.54565, -32.9182), (85.70125, -33.3889), (85.69895, -33.9213), (84.62705, -33.6341), (83.86615, -36.4735), (84.94065, -36.7614), (84.93865, -36.7689), (84.87145, -36.9158), (84.48365, -37.4318), (84.19135, -37.5441), (84.13065, -37.7708), (83.78465, -38.0369), (83.76055, -38.0304), (83.41325, -38.1639), align=None, mode=Mode.SUBTRACT)
        Polygon((-40.38025, -78.1263), (-37.12745, -79.3749), (-33.68605, -79.92), (-30.20655, -79.7376), (-26.84095, -78.8358), (-23.73645, -77.254), (-21.02867, -75.0613), (-18.83594, -72.3535), (-17.25412, -69.249), (-16.35231, -65.8834), (-16.16995, -62.4039), (-16.71503, -58.9625), (-17.96367, -55.7097), (-19.86136, -52.7875), (-22.32515, -50.3237), (-25.24725, -48.4261), (-28.50015, -47.1774), (-31.94155, -46.6323), (-35.42105, -46.8147), (-38.78655, -47.7165), (-41.89115, -49.2983), (-44.59895, -51.491), (-46.79165, -54.1988), (-48.37345, -57.3034), (-49.27525, -60.6689), (-49.45765, -64.1484), (-48.91255, -67.5898), (-47.66385, -70.8427), (-45.76625, -73.7648), (-43.30245, -76.2286), align=None)
        Polygon((-28.53805, -8.12105), (-37.23135, -10.45041), (-29.46675, -39.4282), (-20.77344, -37.0988), align=None)
        Polygon((1.33695, -0.11607), (-7.35638, -2.44544), (0.40815, -31.4232), (9.10155, -29.0938), align=None)
        Polygon((25.72255, -44.2163), (59.62655, -53.3009), (62.18005, -45.7029), (62.66675, -42.7274), (63.68965, -22.296), (25.05265, -11.94324), (16.25275, -44.7847), (24.94615, -47.1141), align=None)
        Polygon((-80.73955, -82.101), (-80.70025, -82.0617), (-80.44795, -82.114), (-80.33515, -82.0013), (-80.24955, -82.0868), (-73.03295, -74.8702), (-77.69985, -70.2033), (-84.91645, -77.4199), (-84.86155, -77.4748), (-84.91965, -77.8423), (-84.93725, -77.8599), (-84.87975, -78.2927), (-84.71395, -78.4586), (-84.76285, -78.7679), (-84.50975, -79.3617), (-84.41605, -79.4935), (-84.41065, -79.4989), (-83.62415, -78.7123), (-81.54555, -80.7909), (-82.33015, -81.5755), (-81.87035, -81.8438), (-81.38495, -81.9444), (-81.30655, -81.866), (-81.12235, -82.0502), align=None)
        Polygon((75.24335, -29.2223), (73.53515, -35.5974), (83.39315, -38.2389), (83.41325, -38.1639), (83.76055, -38.0304), (83.78465, -38.0369), (84.13065, -37.7708), (84.19135, -37.5441), (84.48365, -37.4318), (84.87145, -36.9158), (84.93865, -36.7689), (84.94065, -36.7614), (83.86615, -36.4735), (84.62705, -33.6341), (85.69895, -33.9213), (85.70125, -33.3889), (85.54565, -32.9182), (85.43855, -32.8895), (85.50595, -32.6378), (85.35865, -32.281), (85.30495, -32.2666), (85.22405, -32.022), (85.07005, -31.9807), (85.10135, -31.8638), align=None)
        Polygon((-19.14276, -80.2053), (-20.53055, -81.9191), (-18.04369, -83.9329), (-16.55037, -82.0888), (-13.96559, -78.1087), (-11.81105, -73.8801), (-10.99925, -71.7653), (-10.90266, -71.6871), (-11.152954, -70.1068), (-12.646667, -69.5334), (-13.89011, -70.5403), (-13.94812, -70.518), (-14.73839, -72.5767), (-16.74068, -76.5065), align=None)
        Polygon((-14.29387, -9.837876), (-13.22224, -11.23445), (-11.476974, -11.46422), (-10.0804, -10.39259), (-9.85063, -8.647324), (-10.92226, -7.25075), (-12.667526, -7.02098), (-14.0641, -8.09261), align=None)
        Polygon((-54.72495, -54.8653), (-54.47465, -56.4456), (-52.98085, -57.019), (-51.73745, -56.012), (-51.98775, -54.4317), (-53.48145, -53.8584), align=None)
        Polygon((4.45365, -92.8693), (13.22625, -95.2199), (11.90965, -100.1334), (-7.40884, -94.957), (-1.88705, -74.3495), (-3.92564, -75.5913), (-6.13873, -77.063), (-10.8316, -80.319), (-13.34227, -82.0024), (-15.97166, -83.6479), (-18.71733, -85.1963), (-21.56923, -86.5893), (-24.50995, -87.7711), (-27.51545, -88.6909), (-30.55595, -89.3045), (-33.59765, -89.5764), (-36.60345, -89.4807), (-39.53565, -89.0023), (-42.35695, -88.137), (-45.03255, -86.8922), (-45.14535, -86.8197), (-42.64085, -86.1953), (-40.24675, -85.1294), (-40.00055, -85.1552), (-39.06005, -83.8608), (-39.71085, -82.3991), (-41.30205, -82.2319), (-41.35245, -82.1188), (-43.68665, -83.1581), (-48.60055, -84.3832), (-49.82955, -83.3455), (-51.90805, -81.1082), (-53.75695, -78.6177), (-54.33325, -77.6581), (-57.87185, -80.311), (-58.31765, -85.4073), (-64.39965, -84.8752), (-65.62615, -85.7255), (-73.08155, -90.2047), (-80.44415, -93.6749), (-83.19835, -94.4741), (-87.91755, -89.7548), (-87.88225, -89.7195), (-92.54915, -85.0526), (-92.58445, -85.0879), (-97.30375, -80.3687), (-96.50455, -77.6145), (-93.03435, -70.2519), (-88.55515, -62.7965), (-87.70485, -61.57), (-88.23695, -55.488), (-83.14065, -55.0422), (-78.91505, -49.4058), (-74.81295, -44.0203), (-71.67025, -39.6093), (-71.17785, -38.7628), (-141.855791, -65.216534), (-55.356011, -139.126509), (164.325565, -69.847435), (95.573172, 0), (53.87475, -5.25502), (54.72455, -5.74194), (59.65165, -7.99066), (65.89685, -10.60355), (72.37465, -13.37196), (77.01105, -11.20998), (79.59125, -16.74316), (80.94085, -17.38019), (88.54775, -21.5972), (95.23375, -26.2383), (97.30375, -28.2239), (95.57575, -34.6705), (95.52775, -34.6575), (93.81975, -41.0326), (93.86775, -41.0456), (92.14075, -47.4921), (89.35575, -48.1771), (81.24445, -48.8532), (72.54825, -48.7018), (71.06085, -48.5787), (69.57335, -49.6203), (64.97425, -66.7844), (52.62445, -63.4753), (52.07465, -64.0659), (14.84455, -54.0901), align=None)
    extrude(amount=F2_DEPTH)


solid = Compound([f1.part, f2.part])
